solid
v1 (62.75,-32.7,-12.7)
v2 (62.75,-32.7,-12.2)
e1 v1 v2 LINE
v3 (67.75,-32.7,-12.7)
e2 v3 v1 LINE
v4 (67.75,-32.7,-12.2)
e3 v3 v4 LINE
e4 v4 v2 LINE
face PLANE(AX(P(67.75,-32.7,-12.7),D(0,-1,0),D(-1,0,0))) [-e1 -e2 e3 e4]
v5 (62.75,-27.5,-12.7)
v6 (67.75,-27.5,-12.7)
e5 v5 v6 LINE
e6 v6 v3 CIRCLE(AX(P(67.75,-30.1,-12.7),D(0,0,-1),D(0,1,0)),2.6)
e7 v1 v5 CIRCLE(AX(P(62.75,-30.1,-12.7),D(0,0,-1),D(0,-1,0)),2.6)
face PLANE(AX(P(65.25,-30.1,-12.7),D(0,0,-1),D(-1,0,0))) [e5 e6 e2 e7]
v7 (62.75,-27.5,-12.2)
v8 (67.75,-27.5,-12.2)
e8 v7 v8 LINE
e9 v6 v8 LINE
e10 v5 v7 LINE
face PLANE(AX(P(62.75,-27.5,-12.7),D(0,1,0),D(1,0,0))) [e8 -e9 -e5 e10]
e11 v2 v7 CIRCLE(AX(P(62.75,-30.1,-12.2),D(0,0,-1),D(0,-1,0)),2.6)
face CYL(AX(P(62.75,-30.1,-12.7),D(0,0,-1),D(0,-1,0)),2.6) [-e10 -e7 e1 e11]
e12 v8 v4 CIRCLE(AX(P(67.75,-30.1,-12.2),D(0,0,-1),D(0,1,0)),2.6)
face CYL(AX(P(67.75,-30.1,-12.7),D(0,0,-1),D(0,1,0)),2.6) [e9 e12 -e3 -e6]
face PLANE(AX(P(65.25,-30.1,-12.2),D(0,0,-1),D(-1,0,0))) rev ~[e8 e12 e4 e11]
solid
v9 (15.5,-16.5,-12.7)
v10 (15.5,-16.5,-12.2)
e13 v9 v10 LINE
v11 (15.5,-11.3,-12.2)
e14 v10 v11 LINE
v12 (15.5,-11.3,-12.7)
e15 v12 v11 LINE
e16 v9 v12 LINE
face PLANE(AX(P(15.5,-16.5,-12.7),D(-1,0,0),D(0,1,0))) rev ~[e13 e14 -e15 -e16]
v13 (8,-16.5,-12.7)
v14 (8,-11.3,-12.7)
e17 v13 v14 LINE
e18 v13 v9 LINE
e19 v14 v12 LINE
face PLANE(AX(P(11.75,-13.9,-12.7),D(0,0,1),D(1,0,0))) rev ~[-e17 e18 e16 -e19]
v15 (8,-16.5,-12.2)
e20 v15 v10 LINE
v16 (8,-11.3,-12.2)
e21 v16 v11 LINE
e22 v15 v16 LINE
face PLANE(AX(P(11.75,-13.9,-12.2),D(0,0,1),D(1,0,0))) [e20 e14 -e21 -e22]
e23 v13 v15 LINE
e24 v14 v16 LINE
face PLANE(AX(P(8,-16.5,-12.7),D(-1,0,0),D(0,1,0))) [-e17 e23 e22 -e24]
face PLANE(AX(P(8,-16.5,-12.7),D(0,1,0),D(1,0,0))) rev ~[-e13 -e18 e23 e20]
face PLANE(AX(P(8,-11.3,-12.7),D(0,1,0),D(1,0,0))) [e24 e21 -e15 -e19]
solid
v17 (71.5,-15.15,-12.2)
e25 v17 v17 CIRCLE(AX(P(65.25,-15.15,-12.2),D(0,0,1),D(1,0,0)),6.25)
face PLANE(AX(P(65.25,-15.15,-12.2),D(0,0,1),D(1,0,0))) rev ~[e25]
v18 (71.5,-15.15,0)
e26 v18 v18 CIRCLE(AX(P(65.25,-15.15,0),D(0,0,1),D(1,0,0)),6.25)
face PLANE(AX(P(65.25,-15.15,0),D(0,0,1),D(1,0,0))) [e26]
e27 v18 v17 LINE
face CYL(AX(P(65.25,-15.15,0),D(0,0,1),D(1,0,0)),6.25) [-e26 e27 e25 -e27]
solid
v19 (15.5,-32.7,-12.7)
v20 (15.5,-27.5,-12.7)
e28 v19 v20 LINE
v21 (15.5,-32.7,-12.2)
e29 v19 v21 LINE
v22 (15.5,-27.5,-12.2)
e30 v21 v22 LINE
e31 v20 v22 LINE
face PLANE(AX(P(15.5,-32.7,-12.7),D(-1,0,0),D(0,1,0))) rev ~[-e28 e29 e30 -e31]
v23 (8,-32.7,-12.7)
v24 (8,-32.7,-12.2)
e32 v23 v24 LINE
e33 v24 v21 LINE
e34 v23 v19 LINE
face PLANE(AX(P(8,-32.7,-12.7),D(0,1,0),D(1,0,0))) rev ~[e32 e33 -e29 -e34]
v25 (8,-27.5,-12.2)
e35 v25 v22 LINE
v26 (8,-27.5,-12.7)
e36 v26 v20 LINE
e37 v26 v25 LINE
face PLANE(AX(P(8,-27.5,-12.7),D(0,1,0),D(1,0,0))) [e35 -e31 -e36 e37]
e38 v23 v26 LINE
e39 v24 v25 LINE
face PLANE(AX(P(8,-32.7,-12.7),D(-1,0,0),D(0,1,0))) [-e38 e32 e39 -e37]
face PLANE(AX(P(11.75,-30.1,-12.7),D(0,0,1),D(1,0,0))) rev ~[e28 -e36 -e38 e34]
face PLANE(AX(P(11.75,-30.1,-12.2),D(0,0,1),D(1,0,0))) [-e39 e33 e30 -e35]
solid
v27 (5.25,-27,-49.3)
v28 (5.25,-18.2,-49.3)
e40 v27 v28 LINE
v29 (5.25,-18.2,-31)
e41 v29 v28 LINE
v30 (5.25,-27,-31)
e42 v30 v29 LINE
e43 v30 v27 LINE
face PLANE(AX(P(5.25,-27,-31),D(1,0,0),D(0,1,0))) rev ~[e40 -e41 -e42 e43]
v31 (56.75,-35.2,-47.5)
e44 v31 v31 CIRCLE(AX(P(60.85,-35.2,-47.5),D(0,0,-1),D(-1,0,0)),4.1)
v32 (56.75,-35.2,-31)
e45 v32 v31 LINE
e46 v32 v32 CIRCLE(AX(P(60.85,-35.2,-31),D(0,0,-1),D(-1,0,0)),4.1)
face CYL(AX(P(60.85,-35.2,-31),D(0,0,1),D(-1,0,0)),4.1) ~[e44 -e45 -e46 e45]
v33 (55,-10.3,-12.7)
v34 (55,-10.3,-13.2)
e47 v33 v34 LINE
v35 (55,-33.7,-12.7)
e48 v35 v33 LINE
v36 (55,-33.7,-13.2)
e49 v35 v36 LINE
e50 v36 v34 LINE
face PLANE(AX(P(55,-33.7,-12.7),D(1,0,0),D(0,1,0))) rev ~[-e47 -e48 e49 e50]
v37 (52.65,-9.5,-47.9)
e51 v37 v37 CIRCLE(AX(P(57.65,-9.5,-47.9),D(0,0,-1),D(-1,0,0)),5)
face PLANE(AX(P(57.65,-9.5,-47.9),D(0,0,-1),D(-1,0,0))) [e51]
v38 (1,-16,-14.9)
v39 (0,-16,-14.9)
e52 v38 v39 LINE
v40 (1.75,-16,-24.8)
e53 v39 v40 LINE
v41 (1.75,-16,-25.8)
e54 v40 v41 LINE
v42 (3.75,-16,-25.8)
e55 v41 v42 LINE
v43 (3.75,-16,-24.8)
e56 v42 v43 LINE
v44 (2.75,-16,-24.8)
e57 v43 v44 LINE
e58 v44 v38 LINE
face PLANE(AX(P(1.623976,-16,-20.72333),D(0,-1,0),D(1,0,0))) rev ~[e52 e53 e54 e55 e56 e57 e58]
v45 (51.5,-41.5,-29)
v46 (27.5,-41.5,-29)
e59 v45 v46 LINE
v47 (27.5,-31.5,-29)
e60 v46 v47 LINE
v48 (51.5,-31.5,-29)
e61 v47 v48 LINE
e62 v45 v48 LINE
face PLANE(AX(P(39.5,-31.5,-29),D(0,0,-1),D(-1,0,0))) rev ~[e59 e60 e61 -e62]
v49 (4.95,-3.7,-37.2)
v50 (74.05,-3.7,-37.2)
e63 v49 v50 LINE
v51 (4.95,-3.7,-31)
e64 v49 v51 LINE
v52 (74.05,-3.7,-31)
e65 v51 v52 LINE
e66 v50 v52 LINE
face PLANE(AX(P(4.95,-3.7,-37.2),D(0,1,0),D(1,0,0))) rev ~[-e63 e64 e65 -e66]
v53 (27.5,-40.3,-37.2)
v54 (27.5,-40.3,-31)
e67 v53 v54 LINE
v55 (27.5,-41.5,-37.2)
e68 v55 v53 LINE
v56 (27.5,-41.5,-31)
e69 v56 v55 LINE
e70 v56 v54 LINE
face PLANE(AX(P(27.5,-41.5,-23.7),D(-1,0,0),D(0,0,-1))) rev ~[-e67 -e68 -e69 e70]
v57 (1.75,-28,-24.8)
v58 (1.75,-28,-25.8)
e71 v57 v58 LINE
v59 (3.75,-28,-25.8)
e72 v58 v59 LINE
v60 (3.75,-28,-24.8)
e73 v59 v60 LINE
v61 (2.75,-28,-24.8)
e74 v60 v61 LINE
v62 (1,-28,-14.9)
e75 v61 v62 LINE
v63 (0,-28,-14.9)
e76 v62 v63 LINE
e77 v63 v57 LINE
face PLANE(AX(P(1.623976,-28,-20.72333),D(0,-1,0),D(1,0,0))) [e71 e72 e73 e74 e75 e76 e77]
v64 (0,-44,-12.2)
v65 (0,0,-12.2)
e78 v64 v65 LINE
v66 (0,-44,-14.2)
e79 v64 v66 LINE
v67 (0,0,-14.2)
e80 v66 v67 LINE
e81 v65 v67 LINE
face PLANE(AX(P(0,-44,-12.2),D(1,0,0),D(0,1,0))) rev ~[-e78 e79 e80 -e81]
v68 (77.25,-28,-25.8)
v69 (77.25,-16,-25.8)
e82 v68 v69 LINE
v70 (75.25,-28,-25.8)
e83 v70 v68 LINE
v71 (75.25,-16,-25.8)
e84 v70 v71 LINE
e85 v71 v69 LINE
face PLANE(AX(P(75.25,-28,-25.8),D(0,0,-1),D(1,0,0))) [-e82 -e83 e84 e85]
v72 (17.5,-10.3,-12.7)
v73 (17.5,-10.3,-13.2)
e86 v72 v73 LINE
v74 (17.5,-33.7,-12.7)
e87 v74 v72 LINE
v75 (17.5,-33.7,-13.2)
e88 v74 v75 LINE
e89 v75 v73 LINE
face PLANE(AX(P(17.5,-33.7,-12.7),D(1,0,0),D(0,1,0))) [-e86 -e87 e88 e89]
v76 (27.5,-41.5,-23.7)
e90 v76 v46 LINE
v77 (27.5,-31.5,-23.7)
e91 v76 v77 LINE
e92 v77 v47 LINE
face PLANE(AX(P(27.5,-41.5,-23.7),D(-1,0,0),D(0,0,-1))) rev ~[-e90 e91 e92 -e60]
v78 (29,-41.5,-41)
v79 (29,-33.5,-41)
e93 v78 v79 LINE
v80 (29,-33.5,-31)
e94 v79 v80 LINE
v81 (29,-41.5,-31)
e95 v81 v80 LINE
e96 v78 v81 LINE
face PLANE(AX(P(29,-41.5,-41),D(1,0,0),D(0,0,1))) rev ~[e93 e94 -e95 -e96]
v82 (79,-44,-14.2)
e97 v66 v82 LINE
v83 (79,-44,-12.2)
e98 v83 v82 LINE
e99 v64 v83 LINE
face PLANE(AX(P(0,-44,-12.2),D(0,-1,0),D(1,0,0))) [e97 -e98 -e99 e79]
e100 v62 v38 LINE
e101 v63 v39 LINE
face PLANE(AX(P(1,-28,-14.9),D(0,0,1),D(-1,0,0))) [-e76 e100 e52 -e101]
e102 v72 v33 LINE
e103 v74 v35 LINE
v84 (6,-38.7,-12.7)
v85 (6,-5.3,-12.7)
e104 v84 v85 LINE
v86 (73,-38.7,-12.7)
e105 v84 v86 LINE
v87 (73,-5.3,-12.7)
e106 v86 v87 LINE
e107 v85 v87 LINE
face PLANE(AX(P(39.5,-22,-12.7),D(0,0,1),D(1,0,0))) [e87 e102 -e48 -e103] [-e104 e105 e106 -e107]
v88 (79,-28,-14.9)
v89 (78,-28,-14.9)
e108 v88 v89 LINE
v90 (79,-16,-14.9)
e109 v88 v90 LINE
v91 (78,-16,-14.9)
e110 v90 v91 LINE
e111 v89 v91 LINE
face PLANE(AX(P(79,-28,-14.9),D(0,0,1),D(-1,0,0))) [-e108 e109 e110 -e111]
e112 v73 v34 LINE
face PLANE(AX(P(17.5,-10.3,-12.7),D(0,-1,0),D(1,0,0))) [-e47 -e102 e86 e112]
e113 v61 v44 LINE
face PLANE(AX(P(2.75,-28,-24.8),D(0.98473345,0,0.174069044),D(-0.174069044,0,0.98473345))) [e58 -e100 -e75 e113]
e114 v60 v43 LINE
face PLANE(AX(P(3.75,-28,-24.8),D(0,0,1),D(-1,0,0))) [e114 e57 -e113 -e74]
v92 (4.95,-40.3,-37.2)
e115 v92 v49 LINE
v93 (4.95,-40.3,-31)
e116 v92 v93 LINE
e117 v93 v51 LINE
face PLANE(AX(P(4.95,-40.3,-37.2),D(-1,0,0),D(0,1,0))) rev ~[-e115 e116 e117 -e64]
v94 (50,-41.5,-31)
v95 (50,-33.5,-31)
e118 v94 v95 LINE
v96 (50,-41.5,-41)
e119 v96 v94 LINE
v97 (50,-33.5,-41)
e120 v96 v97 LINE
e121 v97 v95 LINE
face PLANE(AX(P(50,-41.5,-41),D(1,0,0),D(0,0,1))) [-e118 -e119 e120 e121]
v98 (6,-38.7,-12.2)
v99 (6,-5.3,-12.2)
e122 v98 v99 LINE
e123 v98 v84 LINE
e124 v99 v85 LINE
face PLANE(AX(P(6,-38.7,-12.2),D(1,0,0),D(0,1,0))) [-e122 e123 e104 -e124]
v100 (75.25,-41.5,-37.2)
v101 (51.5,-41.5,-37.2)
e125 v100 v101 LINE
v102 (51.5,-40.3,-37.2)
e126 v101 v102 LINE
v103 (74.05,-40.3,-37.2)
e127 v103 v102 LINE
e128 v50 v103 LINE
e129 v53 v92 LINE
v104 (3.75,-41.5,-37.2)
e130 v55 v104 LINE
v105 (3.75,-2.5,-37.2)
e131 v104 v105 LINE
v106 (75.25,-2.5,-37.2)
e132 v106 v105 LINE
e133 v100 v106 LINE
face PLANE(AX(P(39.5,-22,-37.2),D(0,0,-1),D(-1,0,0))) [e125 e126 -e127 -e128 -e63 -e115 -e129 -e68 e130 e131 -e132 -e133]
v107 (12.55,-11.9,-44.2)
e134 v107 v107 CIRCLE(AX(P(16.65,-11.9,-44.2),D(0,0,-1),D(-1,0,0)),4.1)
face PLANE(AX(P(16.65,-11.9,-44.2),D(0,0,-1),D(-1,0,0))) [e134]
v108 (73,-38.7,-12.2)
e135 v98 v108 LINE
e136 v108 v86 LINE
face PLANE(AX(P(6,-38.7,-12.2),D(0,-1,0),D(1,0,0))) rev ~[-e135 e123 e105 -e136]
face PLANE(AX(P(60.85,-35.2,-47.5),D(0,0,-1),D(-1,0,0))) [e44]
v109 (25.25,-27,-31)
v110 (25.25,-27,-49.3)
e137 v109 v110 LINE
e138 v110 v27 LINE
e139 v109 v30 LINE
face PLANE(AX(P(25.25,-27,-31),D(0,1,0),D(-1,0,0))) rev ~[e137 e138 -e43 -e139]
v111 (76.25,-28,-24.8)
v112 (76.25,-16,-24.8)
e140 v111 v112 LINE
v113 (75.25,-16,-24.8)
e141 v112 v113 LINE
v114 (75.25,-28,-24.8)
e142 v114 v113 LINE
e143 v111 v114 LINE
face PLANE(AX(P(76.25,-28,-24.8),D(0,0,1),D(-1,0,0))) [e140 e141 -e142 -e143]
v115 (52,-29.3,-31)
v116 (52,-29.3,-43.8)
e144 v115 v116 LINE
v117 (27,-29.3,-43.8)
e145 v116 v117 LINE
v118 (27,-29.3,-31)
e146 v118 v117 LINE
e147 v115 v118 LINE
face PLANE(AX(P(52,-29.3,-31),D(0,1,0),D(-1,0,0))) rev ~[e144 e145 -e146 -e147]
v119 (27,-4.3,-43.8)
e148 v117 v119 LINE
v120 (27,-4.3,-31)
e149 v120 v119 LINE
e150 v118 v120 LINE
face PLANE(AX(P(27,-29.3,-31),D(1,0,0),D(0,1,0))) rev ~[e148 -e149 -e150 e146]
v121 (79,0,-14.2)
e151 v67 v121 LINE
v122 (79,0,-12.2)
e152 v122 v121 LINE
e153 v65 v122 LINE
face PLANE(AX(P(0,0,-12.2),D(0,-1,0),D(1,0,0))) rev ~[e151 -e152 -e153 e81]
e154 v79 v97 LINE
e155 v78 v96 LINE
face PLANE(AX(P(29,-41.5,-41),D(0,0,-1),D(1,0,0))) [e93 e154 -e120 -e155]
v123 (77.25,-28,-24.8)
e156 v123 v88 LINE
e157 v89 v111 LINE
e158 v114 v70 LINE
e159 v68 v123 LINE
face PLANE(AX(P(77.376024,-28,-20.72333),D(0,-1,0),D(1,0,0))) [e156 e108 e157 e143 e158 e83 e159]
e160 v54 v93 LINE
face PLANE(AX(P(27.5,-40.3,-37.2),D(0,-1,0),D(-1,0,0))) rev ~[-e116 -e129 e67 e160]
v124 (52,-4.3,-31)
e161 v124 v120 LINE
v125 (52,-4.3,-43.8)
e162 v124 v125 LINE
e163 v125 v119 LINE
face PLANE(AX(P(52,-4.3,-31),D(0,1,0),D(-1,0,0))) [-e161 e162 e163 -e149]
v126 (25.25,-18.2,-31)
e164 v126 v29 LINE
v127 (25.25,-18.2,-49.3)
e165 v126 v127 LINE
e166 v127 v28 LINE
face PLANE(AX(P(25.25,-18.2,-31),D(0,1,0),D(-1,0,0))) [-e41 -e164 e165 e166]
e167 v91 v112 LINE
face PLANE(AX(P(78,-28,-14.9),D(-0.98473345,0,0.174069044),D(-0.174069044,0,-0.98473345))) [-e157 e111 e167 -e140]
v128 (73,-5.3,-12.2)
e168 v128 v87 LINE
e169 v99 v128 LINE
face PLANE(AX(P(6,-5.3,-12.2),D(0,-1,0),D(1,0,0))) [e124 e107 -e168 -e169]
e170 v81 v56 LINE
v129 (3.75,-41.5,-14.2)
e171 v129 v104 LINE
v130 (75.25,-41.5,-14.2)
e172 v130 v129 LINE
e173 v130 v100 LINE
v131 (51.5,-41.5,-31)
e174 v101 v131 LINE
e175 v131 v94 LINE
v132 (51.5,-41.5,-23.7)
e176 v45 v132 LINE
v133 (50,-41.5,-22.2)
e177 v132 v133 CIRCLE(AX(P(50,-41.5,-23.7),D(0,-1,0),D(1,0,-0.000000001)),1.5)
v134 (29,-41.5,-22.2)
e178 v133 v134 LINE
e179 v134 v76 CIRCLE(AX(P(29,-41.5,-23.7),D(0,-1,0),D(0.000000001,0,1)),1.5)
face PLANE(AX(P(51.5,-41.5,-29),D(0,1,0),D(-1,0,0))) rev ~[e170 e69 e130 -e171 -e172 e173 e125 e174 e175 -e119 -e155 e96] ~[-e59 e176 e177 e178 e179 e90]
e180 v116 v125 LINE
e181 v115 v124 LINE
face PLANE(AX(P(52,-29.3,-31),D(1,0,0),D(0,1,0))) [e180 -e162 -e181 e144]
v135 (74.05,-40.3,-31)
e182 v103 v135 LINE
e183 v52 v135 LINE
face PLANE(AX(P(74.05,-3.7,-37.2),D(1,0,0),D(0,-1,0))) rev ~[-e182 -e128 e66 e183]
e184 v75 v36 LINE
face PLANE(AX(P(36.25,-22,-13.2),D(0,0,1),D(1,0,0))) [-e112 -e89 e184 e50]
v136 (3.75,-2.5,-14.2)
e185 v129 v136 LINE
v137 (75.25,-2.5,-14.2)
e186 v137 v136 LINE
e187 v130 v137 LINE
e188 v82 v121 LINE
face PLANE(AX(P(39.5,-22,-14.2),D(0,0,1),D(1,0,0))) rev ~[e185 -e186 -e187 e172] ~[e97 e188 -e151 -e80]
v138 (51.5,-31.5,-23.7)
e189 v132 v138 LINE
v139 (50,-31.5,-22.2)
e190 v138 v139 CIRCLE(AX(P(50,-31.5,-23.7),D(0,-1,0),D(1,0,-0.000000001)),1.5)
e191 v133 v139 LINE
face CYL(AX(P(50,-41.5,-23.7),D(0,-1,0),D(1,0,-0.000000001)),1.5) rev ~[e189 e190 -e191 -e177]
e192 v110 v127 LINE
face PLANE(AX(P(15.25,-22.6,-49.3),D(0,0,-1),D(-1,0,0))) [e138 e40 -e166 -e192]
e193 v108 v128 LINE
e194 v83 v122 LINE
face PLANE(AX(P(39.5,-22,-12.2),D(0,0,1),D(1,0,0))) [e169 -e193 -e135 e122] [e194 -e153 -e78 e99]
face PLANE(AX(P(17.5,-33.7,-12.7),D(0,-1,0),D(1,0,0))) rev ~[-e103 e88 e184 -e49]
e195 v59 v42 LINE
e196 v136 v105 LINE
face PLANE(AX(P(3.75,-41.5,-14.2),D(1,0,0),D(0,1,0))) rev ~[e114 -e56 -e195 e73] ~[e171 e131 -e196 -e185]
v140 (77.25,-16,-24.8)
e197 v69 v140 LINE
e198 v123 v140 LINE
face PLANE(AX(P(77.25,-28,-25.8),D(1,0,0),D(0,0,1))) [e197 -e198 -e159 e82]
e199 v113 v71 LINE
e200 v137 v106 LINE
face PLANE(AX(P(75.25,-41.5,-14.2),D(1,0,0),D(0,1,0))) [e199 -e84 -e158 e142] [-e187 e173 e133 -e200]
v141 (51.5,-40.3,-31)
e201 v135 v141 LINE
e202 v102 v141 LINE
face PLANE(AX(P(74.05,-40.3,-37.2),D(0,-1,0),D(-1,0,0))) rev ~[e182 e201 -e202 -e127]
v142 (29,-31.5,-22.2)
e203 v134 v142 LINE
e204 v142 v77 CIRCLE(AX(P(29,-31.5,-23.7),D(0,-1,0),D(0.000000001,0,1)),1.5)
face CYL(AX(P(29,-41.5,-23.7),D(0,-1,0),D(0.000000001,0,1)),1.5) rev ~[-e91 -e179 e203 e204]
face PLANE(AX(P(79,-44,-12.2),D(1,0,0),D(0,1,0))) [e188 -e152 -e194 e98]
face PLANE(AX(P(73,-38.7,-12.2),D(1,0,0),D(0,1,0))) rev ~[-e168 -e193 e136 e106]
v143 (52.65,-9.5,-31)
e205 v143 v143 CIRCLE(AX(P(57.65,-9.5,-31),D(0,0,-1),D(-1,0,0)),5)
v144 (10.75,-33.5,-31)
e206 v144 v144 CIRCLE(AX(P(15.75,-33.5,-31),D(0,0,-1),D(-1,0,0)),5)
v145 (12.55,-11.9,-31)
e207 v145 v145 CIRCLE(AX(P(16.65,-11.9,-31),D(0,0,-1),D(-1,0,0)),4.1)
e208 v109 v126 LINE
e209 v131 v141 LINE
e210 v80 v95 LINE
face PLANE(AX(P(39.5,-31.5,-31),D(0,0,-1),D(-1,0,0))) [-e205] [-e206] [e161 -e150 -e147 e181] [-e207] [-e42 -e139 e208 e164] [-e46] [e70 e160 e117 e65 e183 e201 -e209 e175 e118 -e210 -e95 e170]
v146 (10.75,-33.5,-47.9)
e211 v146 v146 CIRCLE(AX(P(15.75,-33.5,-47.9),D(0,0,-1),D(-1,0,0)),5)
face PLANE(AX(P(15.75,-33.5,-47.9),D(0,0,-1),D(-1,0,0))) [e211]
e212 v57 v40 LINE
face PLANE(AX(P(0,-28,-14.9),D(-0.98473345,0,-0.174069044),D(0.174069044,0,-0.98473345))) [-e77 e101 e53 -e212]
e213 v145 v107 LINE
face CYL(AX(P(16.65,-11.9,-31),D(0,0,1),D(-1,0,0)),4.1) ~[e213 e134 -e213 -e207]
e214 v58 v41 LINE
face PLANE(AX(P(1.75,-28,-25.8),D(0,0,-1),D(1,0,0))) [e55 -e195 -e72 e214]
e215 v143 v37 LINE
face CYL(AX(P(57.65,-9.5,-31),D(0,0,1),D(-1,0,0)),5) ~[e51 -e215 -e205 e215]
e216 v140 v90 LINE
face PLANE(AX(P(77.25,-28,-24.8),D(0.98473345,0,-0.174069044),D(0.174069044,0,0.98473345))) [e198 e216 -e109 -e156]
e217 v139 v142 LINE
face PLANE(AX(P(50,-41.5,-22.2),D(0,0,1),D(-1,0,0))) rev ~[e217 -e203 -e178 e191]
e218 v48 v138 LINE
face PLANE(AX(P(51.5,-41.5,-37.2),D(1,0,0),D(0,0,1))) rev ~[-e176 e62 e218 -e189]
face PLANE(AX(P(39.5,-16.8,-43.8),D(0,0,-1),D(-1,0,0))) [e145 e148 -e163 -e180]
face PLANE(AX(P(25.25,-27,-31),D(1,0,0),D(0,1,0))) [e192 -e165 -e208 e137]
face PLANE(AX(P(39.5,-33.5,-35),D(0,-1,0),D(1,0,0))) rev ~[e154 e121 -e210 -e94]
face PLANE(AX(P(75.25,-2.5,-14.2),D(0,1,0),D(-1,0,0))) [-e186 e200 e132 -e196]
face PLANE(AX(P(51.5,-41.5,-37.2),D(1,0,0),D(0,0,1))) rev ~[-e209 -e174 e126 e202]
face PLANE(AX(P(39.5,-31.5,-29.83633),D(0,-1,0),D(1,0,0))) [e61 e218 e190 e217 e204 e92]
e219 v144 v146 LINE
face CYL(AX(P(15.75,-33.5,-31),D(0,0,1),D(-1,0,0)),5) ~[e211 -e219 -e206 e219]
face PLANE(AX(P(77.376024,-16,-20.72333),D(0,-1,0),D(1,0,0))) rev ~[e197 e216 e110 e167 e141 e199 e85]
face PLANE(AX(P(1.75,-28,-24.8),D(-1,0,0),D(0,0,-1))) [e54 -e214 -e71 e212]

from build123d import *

# Parameters (mm, degrees)
SKETCH_1_R          = 6.25
EXTRUDE_1_DEPTH     = 12.2
EXTRUDE_START       = -12.2
SKETCH_1_3_W        = 79
SKETCH_1_3_H        = 44
SKETCH_1_3_W_2      = 67
SKETCH_1_3_H_2      = 33.4
EXTRUDE_2_DEPTH     = 2
EXTRUDE_START_2     = -14.2
SKETCH_1_4_W        = 67
SKETCH_1_4_H        = 33.4
EXTRUDE_3_DEPTH     = 1.5
EXTRUDE_START_3     = -12.7
SKETCH_1_5_W        = 7.5
SKETCH_1_5_H        = 5.2
EXTRUDE_4_DEPTH     = 0.5
EXTRUDE_4_2_DEPTH   = 0.5
EXTRUDE_4_3_DEPTH   = 0.5
SKETCH_2_W          = 71.5
SKETCH_2_H          = 39
EXTRUDE_5_DEPTH     = 23
CUT_EXTRUDE_START   = -12.7
SKETCH_1_7_W        = 37.5
SKETCH_1_7_H        = 23.4
CUT_EXTRUDE_3_DEPTH = 0.5
EXTRUDE_START_4     = -13.5
EXTRUDE_6_DEPTH     = 12
CUT_EXTRUDE_4_DEPTH = 10
SKETCH_4_3_W        = 21
SKETCH_4_3_H        = 12
EXTRUDE_7_DEPTH     = 8
EXTRUDE_START_5     = -12
SKETCH_7_W          = 24
SKETCH_7_H          = 20
EXTRUDE_8_DEPTH     = 2
CUT_EXTRUDE_5_DEPTH = 6.2
SKETCH_9_W          = 25
SKETCH_9_H          = 25
EXTRUDE_9_DEPTH     = 12.8
SKETCH_9_3_R        = 4.1
EXTRUDE_10_DEPTH    = 13.2
SKETCH_9_5_R        = 5
EXTRUDE_12_DEPTH    = 16.9
SKETCH_9_6_R        = 4.1
EXTRUDE_13_DEPTH    = 16.5
SKETCH_9_7_W        = 20
SKETCH_9_7_H        = 8.8
EXTRUDE_14_DEPTH    = 18.3


with BuildPart() as part:
    # 草图1 → 凸台-拉伸1 (new body)
    with BuildSketch(Plane.XY):
        with Locations((65.25, -15.15)):
            Circle(SKETCH_1_R)
    extrude(amount=-EXTRUDE_1_DEPTH)


with BuildPart() as body_2:
    # 草图1<3> → 凸台-拉伸2 (new body)
    with BuildSketch(Plane.XY.offset(EXTRUDE_START)):
        with Locations((39.5, -22)):
            Rectangle(SKETCH_1_3_W, SKETCH_1_3_H)
        with Locations((39.5, -22)):
            Rectangle(SKETCH_1_3_W_2, SKETCH_1_3_H_2, mode=Mode.SUBTRACT)
    extrude(amount=-EXTRUDE_2_DEPTH)

    # 草图1<4> → 凸台-拉伸3 (add)
    with BuildSketch(Plane.XY.offset(EXTRUDE_START_2)):
        with Locations((39.5, -22)):
            Rectangle(SKETCH_1_4_W, SKETCH_1_4_H)
    extrude(amount=EXTRUDE_3_DEPTH)

    # 草图2 → 凸台-拉伸5 (add)
    with BuildSketch(Plane(origin=(0, 0, -14.2), x_dir=(-1, 0, 0), z_dir=(0, 0, -1))):
        with Locations((-39.5, -22)):
            Rectangle(SKETCH_2_W, SKETCH_2_H)
    extrude(amount=EXTRUDE_5_DEPTH)

    # 草图1<7> → 切除-拉伸3 (cut)
    with BuildSketch(Plane.XY.offset(CUT_EXTRUDE_START)):
        with Locations((36.25, -22)):
            Rectangle(SKETCH_1_7_W, SKETCH_1_7_H)
    extrude(amount=-CUT_EXTRUDE_3_DEPTH, mode=Mode.SUBTRACT)

    # 草图3 → 凸台-拉伸6 (add)
    with BuildSketch(Plane.XZ.offset(41.5).offset(EXTRUDE_START_4)):
        Polygon((1.75, -24.8), (1.75, -25.8), (3.75, -25.8), (3.75, -24.8), (2.75, -24.8), (1, -14.9), (0, -14.9), align=None)
        Polygon((75.25, -24.8), (75.25, -25.8), (77.25, -25.8), (77.25, -24.8), (79, -14.9), (78, -14.9), (76.25, -24.8), align=None)
    extrude(amount=-EXTRUDE_6_DEPTH)

    # 草图4 → 切除-拉伸4 (cut)
    with BuildSketch(Plane.XZ.offset(41.5)):
        with BuildLine():
            Line((50, -22.2), (29, -22.2))
            ThreePointArc((29, -22.2), (27.939339828, -22.639339828), (27.5, -23.7))
            Line((27.5, -23.7), (27.5, -37.2))
            Line((27.5, -37.2), (51.5, -37.2))
            Line((51.5, -37.2), (51.5, -23.7))
            ThreePointArc((51.5, -23.7), (51.060660172, -22.639339828), (50, -22.2))
        make_face()
    extrude(amount=-CUT_EXTRUDE_4_DEPTH, mode=Mode.SUBTRACT)



with BuildPart() as body_3:
    # 草图1<5> → 凸台-拉伸4 (new body)
    with BuildSketch(Plane.XY.offset(EXTRUDE_START_3)):
        with Locations((11.75, -13.9)):
            Rectangle(SKETCH_1_5_W, SKETCH_1_5_H)
    extrude(amount=EXTRUDE_4_DEPTH)


with BuildPart() as body_4:
    # 草图1<5> → Extrude 4 2 (new body)
    with BuildSketch(Plane.XY.offset(EXTRUDE_START_3)):
        with Locations((11.75, -30.1)):
            Rectangle(SKETCH_1_5_W, SKETCH_1_5_H)
    extrude(amount=EXTRUDE_4_2_DEPTH)


with BuildPart() as body_5:
    # 草图1<5> → Extrude 4 3 (new body)
    with BuildSketch(Plane.XY.offset(EXTRUDE_START_3)):
        with BuildLine():
            Line((62.75, -27.5), (67.75, -27.5))
            ThreePointArc((67.75, -27.5), (70.35, -30.1), (67.75, -32.7))
            Line((67.75, -32.7), (62.75, -32.7))
            ThreePointArc((62.75, -32.7), (60.15, -30.1), (62.75, -27.5))
        make_face()
    extrude(amount=EXTRUDE_4_3_DEPTH)


with BuildPart() as body_6:
    # 草图4<3> → 凸台-拉伸7 (new body)
    with BuildSketch(Plane.XZ.offset(41.5)):
        with Locations((39.5, -35)):
            Rectangle(SKETCH_4_3_W, SKETCH_4_3_H)
    extrude(amount=-EXTRUDE_7_DEPTH)


with BuildPart() as body_2_1:
    add(body_2.part)

    add(body_6.part)  # 凸台-拉伸8 merges body 6
    # 草图7 → 凸台-拉伸8 (add)
    with BuildSketch(Plane(origin=(0, 0, -41), x_dir=(-1, 0, 0), z_dir=(0, 0, -1)).offset(EXTRUDE_START_5)):
        with Locations((-39.5, -31.5)):
            Rectangle(SKETCH_7_W, SKETCH_7_H)
    extrude(amount=EXTRUDE_8_DEPTH)

    # 草图8 → 切除-拉伸5 (cut)
    with BuildSketch(Plane(origin=(0, 0, -37.2), x_dir=(-1, 0, 0), z_dir=(0, 0, -1))):
        Polygon((-4.95, -3.7), (-74.05, -3.7), (-74.05, -40.3), (-51.5, -40.3), (-51.5, -31.5), (-27.5, -31.5), (-27.5, -40.3), (-4.95, -40.3), align=None)
    extrude(amount=-CUT_EXTRUDE_5_DEPTH, mode=Mode.SUBTRACT)

    # 草图9 → 凸台-拉伸9 (add)
    with BuildSketch(Plane(origin=(0, 0, -31), x_dir=(-1, 0, 0), z_dir=(0, 0, -1))):
        with Locations((-39.5, -16.8)):
            Rectangle(SKETCH_9_W, SKETCH_9_H)
    extrude(amount=EXTRUDE_9_DEPTH)

    # 草图9<3> → 凸台-拉伸10 (add)
    with BuildSketch(Plane(origin=(0, 0, -31), x_dir=(-1, 0, 0), z_dir=(0, 0, -1))):
        with Locations((-16.65, -11.9)):
            Circle(SKETCH_9_3_R)
    extrude(amount=EXTRUDE_10_DEPTH)

    # 草图9<5> → 凸台-拉伸12 (add)
    with BuildSketch(Plane(origin=(0, 0, -31), x_dir=(-1, 0, 0), z_dir=(0, 0, -1))):
        with Locations((-57.65, -9.5)):
            Circle(SKETCH_9_5_R)
        with Locations((-15.75, -33.5)):
            Circle(SKETCH_9_5_R)
    extrude(amount=EXTRUDE_12_DEPTH)

    # 草图9<6> → 凸台-拉伸13 (add)
    with BuildSketch(Plane(origin=(0, 0, -31), x_dir=(-1, 0, 0), z_dir=(0, 0, -1))):
        with Locations((-60.85, -35.2)):
            Circle(SKETCH_9_6_R)
    extrude(amount=EXTRUDE_13_DEPTH)

    # 草图9<7> → 凸台-拉伸14 (add)
    with BuildSketch(Plane(origin=(0, 0, -31), x_dir=(-1, 0, 0), z_dir=(0, 0, -1))):
        with Locations((-15.25, -22.6)):
            Rectangle(SKETCH_9_7_W, SKETCH_9_7_H)
    extrude(amount=EXTRUDE_14_DEPTH)


solid = Compound([part.part, body_3.part, body_4.part, body_5.part, body_2_1.part])
